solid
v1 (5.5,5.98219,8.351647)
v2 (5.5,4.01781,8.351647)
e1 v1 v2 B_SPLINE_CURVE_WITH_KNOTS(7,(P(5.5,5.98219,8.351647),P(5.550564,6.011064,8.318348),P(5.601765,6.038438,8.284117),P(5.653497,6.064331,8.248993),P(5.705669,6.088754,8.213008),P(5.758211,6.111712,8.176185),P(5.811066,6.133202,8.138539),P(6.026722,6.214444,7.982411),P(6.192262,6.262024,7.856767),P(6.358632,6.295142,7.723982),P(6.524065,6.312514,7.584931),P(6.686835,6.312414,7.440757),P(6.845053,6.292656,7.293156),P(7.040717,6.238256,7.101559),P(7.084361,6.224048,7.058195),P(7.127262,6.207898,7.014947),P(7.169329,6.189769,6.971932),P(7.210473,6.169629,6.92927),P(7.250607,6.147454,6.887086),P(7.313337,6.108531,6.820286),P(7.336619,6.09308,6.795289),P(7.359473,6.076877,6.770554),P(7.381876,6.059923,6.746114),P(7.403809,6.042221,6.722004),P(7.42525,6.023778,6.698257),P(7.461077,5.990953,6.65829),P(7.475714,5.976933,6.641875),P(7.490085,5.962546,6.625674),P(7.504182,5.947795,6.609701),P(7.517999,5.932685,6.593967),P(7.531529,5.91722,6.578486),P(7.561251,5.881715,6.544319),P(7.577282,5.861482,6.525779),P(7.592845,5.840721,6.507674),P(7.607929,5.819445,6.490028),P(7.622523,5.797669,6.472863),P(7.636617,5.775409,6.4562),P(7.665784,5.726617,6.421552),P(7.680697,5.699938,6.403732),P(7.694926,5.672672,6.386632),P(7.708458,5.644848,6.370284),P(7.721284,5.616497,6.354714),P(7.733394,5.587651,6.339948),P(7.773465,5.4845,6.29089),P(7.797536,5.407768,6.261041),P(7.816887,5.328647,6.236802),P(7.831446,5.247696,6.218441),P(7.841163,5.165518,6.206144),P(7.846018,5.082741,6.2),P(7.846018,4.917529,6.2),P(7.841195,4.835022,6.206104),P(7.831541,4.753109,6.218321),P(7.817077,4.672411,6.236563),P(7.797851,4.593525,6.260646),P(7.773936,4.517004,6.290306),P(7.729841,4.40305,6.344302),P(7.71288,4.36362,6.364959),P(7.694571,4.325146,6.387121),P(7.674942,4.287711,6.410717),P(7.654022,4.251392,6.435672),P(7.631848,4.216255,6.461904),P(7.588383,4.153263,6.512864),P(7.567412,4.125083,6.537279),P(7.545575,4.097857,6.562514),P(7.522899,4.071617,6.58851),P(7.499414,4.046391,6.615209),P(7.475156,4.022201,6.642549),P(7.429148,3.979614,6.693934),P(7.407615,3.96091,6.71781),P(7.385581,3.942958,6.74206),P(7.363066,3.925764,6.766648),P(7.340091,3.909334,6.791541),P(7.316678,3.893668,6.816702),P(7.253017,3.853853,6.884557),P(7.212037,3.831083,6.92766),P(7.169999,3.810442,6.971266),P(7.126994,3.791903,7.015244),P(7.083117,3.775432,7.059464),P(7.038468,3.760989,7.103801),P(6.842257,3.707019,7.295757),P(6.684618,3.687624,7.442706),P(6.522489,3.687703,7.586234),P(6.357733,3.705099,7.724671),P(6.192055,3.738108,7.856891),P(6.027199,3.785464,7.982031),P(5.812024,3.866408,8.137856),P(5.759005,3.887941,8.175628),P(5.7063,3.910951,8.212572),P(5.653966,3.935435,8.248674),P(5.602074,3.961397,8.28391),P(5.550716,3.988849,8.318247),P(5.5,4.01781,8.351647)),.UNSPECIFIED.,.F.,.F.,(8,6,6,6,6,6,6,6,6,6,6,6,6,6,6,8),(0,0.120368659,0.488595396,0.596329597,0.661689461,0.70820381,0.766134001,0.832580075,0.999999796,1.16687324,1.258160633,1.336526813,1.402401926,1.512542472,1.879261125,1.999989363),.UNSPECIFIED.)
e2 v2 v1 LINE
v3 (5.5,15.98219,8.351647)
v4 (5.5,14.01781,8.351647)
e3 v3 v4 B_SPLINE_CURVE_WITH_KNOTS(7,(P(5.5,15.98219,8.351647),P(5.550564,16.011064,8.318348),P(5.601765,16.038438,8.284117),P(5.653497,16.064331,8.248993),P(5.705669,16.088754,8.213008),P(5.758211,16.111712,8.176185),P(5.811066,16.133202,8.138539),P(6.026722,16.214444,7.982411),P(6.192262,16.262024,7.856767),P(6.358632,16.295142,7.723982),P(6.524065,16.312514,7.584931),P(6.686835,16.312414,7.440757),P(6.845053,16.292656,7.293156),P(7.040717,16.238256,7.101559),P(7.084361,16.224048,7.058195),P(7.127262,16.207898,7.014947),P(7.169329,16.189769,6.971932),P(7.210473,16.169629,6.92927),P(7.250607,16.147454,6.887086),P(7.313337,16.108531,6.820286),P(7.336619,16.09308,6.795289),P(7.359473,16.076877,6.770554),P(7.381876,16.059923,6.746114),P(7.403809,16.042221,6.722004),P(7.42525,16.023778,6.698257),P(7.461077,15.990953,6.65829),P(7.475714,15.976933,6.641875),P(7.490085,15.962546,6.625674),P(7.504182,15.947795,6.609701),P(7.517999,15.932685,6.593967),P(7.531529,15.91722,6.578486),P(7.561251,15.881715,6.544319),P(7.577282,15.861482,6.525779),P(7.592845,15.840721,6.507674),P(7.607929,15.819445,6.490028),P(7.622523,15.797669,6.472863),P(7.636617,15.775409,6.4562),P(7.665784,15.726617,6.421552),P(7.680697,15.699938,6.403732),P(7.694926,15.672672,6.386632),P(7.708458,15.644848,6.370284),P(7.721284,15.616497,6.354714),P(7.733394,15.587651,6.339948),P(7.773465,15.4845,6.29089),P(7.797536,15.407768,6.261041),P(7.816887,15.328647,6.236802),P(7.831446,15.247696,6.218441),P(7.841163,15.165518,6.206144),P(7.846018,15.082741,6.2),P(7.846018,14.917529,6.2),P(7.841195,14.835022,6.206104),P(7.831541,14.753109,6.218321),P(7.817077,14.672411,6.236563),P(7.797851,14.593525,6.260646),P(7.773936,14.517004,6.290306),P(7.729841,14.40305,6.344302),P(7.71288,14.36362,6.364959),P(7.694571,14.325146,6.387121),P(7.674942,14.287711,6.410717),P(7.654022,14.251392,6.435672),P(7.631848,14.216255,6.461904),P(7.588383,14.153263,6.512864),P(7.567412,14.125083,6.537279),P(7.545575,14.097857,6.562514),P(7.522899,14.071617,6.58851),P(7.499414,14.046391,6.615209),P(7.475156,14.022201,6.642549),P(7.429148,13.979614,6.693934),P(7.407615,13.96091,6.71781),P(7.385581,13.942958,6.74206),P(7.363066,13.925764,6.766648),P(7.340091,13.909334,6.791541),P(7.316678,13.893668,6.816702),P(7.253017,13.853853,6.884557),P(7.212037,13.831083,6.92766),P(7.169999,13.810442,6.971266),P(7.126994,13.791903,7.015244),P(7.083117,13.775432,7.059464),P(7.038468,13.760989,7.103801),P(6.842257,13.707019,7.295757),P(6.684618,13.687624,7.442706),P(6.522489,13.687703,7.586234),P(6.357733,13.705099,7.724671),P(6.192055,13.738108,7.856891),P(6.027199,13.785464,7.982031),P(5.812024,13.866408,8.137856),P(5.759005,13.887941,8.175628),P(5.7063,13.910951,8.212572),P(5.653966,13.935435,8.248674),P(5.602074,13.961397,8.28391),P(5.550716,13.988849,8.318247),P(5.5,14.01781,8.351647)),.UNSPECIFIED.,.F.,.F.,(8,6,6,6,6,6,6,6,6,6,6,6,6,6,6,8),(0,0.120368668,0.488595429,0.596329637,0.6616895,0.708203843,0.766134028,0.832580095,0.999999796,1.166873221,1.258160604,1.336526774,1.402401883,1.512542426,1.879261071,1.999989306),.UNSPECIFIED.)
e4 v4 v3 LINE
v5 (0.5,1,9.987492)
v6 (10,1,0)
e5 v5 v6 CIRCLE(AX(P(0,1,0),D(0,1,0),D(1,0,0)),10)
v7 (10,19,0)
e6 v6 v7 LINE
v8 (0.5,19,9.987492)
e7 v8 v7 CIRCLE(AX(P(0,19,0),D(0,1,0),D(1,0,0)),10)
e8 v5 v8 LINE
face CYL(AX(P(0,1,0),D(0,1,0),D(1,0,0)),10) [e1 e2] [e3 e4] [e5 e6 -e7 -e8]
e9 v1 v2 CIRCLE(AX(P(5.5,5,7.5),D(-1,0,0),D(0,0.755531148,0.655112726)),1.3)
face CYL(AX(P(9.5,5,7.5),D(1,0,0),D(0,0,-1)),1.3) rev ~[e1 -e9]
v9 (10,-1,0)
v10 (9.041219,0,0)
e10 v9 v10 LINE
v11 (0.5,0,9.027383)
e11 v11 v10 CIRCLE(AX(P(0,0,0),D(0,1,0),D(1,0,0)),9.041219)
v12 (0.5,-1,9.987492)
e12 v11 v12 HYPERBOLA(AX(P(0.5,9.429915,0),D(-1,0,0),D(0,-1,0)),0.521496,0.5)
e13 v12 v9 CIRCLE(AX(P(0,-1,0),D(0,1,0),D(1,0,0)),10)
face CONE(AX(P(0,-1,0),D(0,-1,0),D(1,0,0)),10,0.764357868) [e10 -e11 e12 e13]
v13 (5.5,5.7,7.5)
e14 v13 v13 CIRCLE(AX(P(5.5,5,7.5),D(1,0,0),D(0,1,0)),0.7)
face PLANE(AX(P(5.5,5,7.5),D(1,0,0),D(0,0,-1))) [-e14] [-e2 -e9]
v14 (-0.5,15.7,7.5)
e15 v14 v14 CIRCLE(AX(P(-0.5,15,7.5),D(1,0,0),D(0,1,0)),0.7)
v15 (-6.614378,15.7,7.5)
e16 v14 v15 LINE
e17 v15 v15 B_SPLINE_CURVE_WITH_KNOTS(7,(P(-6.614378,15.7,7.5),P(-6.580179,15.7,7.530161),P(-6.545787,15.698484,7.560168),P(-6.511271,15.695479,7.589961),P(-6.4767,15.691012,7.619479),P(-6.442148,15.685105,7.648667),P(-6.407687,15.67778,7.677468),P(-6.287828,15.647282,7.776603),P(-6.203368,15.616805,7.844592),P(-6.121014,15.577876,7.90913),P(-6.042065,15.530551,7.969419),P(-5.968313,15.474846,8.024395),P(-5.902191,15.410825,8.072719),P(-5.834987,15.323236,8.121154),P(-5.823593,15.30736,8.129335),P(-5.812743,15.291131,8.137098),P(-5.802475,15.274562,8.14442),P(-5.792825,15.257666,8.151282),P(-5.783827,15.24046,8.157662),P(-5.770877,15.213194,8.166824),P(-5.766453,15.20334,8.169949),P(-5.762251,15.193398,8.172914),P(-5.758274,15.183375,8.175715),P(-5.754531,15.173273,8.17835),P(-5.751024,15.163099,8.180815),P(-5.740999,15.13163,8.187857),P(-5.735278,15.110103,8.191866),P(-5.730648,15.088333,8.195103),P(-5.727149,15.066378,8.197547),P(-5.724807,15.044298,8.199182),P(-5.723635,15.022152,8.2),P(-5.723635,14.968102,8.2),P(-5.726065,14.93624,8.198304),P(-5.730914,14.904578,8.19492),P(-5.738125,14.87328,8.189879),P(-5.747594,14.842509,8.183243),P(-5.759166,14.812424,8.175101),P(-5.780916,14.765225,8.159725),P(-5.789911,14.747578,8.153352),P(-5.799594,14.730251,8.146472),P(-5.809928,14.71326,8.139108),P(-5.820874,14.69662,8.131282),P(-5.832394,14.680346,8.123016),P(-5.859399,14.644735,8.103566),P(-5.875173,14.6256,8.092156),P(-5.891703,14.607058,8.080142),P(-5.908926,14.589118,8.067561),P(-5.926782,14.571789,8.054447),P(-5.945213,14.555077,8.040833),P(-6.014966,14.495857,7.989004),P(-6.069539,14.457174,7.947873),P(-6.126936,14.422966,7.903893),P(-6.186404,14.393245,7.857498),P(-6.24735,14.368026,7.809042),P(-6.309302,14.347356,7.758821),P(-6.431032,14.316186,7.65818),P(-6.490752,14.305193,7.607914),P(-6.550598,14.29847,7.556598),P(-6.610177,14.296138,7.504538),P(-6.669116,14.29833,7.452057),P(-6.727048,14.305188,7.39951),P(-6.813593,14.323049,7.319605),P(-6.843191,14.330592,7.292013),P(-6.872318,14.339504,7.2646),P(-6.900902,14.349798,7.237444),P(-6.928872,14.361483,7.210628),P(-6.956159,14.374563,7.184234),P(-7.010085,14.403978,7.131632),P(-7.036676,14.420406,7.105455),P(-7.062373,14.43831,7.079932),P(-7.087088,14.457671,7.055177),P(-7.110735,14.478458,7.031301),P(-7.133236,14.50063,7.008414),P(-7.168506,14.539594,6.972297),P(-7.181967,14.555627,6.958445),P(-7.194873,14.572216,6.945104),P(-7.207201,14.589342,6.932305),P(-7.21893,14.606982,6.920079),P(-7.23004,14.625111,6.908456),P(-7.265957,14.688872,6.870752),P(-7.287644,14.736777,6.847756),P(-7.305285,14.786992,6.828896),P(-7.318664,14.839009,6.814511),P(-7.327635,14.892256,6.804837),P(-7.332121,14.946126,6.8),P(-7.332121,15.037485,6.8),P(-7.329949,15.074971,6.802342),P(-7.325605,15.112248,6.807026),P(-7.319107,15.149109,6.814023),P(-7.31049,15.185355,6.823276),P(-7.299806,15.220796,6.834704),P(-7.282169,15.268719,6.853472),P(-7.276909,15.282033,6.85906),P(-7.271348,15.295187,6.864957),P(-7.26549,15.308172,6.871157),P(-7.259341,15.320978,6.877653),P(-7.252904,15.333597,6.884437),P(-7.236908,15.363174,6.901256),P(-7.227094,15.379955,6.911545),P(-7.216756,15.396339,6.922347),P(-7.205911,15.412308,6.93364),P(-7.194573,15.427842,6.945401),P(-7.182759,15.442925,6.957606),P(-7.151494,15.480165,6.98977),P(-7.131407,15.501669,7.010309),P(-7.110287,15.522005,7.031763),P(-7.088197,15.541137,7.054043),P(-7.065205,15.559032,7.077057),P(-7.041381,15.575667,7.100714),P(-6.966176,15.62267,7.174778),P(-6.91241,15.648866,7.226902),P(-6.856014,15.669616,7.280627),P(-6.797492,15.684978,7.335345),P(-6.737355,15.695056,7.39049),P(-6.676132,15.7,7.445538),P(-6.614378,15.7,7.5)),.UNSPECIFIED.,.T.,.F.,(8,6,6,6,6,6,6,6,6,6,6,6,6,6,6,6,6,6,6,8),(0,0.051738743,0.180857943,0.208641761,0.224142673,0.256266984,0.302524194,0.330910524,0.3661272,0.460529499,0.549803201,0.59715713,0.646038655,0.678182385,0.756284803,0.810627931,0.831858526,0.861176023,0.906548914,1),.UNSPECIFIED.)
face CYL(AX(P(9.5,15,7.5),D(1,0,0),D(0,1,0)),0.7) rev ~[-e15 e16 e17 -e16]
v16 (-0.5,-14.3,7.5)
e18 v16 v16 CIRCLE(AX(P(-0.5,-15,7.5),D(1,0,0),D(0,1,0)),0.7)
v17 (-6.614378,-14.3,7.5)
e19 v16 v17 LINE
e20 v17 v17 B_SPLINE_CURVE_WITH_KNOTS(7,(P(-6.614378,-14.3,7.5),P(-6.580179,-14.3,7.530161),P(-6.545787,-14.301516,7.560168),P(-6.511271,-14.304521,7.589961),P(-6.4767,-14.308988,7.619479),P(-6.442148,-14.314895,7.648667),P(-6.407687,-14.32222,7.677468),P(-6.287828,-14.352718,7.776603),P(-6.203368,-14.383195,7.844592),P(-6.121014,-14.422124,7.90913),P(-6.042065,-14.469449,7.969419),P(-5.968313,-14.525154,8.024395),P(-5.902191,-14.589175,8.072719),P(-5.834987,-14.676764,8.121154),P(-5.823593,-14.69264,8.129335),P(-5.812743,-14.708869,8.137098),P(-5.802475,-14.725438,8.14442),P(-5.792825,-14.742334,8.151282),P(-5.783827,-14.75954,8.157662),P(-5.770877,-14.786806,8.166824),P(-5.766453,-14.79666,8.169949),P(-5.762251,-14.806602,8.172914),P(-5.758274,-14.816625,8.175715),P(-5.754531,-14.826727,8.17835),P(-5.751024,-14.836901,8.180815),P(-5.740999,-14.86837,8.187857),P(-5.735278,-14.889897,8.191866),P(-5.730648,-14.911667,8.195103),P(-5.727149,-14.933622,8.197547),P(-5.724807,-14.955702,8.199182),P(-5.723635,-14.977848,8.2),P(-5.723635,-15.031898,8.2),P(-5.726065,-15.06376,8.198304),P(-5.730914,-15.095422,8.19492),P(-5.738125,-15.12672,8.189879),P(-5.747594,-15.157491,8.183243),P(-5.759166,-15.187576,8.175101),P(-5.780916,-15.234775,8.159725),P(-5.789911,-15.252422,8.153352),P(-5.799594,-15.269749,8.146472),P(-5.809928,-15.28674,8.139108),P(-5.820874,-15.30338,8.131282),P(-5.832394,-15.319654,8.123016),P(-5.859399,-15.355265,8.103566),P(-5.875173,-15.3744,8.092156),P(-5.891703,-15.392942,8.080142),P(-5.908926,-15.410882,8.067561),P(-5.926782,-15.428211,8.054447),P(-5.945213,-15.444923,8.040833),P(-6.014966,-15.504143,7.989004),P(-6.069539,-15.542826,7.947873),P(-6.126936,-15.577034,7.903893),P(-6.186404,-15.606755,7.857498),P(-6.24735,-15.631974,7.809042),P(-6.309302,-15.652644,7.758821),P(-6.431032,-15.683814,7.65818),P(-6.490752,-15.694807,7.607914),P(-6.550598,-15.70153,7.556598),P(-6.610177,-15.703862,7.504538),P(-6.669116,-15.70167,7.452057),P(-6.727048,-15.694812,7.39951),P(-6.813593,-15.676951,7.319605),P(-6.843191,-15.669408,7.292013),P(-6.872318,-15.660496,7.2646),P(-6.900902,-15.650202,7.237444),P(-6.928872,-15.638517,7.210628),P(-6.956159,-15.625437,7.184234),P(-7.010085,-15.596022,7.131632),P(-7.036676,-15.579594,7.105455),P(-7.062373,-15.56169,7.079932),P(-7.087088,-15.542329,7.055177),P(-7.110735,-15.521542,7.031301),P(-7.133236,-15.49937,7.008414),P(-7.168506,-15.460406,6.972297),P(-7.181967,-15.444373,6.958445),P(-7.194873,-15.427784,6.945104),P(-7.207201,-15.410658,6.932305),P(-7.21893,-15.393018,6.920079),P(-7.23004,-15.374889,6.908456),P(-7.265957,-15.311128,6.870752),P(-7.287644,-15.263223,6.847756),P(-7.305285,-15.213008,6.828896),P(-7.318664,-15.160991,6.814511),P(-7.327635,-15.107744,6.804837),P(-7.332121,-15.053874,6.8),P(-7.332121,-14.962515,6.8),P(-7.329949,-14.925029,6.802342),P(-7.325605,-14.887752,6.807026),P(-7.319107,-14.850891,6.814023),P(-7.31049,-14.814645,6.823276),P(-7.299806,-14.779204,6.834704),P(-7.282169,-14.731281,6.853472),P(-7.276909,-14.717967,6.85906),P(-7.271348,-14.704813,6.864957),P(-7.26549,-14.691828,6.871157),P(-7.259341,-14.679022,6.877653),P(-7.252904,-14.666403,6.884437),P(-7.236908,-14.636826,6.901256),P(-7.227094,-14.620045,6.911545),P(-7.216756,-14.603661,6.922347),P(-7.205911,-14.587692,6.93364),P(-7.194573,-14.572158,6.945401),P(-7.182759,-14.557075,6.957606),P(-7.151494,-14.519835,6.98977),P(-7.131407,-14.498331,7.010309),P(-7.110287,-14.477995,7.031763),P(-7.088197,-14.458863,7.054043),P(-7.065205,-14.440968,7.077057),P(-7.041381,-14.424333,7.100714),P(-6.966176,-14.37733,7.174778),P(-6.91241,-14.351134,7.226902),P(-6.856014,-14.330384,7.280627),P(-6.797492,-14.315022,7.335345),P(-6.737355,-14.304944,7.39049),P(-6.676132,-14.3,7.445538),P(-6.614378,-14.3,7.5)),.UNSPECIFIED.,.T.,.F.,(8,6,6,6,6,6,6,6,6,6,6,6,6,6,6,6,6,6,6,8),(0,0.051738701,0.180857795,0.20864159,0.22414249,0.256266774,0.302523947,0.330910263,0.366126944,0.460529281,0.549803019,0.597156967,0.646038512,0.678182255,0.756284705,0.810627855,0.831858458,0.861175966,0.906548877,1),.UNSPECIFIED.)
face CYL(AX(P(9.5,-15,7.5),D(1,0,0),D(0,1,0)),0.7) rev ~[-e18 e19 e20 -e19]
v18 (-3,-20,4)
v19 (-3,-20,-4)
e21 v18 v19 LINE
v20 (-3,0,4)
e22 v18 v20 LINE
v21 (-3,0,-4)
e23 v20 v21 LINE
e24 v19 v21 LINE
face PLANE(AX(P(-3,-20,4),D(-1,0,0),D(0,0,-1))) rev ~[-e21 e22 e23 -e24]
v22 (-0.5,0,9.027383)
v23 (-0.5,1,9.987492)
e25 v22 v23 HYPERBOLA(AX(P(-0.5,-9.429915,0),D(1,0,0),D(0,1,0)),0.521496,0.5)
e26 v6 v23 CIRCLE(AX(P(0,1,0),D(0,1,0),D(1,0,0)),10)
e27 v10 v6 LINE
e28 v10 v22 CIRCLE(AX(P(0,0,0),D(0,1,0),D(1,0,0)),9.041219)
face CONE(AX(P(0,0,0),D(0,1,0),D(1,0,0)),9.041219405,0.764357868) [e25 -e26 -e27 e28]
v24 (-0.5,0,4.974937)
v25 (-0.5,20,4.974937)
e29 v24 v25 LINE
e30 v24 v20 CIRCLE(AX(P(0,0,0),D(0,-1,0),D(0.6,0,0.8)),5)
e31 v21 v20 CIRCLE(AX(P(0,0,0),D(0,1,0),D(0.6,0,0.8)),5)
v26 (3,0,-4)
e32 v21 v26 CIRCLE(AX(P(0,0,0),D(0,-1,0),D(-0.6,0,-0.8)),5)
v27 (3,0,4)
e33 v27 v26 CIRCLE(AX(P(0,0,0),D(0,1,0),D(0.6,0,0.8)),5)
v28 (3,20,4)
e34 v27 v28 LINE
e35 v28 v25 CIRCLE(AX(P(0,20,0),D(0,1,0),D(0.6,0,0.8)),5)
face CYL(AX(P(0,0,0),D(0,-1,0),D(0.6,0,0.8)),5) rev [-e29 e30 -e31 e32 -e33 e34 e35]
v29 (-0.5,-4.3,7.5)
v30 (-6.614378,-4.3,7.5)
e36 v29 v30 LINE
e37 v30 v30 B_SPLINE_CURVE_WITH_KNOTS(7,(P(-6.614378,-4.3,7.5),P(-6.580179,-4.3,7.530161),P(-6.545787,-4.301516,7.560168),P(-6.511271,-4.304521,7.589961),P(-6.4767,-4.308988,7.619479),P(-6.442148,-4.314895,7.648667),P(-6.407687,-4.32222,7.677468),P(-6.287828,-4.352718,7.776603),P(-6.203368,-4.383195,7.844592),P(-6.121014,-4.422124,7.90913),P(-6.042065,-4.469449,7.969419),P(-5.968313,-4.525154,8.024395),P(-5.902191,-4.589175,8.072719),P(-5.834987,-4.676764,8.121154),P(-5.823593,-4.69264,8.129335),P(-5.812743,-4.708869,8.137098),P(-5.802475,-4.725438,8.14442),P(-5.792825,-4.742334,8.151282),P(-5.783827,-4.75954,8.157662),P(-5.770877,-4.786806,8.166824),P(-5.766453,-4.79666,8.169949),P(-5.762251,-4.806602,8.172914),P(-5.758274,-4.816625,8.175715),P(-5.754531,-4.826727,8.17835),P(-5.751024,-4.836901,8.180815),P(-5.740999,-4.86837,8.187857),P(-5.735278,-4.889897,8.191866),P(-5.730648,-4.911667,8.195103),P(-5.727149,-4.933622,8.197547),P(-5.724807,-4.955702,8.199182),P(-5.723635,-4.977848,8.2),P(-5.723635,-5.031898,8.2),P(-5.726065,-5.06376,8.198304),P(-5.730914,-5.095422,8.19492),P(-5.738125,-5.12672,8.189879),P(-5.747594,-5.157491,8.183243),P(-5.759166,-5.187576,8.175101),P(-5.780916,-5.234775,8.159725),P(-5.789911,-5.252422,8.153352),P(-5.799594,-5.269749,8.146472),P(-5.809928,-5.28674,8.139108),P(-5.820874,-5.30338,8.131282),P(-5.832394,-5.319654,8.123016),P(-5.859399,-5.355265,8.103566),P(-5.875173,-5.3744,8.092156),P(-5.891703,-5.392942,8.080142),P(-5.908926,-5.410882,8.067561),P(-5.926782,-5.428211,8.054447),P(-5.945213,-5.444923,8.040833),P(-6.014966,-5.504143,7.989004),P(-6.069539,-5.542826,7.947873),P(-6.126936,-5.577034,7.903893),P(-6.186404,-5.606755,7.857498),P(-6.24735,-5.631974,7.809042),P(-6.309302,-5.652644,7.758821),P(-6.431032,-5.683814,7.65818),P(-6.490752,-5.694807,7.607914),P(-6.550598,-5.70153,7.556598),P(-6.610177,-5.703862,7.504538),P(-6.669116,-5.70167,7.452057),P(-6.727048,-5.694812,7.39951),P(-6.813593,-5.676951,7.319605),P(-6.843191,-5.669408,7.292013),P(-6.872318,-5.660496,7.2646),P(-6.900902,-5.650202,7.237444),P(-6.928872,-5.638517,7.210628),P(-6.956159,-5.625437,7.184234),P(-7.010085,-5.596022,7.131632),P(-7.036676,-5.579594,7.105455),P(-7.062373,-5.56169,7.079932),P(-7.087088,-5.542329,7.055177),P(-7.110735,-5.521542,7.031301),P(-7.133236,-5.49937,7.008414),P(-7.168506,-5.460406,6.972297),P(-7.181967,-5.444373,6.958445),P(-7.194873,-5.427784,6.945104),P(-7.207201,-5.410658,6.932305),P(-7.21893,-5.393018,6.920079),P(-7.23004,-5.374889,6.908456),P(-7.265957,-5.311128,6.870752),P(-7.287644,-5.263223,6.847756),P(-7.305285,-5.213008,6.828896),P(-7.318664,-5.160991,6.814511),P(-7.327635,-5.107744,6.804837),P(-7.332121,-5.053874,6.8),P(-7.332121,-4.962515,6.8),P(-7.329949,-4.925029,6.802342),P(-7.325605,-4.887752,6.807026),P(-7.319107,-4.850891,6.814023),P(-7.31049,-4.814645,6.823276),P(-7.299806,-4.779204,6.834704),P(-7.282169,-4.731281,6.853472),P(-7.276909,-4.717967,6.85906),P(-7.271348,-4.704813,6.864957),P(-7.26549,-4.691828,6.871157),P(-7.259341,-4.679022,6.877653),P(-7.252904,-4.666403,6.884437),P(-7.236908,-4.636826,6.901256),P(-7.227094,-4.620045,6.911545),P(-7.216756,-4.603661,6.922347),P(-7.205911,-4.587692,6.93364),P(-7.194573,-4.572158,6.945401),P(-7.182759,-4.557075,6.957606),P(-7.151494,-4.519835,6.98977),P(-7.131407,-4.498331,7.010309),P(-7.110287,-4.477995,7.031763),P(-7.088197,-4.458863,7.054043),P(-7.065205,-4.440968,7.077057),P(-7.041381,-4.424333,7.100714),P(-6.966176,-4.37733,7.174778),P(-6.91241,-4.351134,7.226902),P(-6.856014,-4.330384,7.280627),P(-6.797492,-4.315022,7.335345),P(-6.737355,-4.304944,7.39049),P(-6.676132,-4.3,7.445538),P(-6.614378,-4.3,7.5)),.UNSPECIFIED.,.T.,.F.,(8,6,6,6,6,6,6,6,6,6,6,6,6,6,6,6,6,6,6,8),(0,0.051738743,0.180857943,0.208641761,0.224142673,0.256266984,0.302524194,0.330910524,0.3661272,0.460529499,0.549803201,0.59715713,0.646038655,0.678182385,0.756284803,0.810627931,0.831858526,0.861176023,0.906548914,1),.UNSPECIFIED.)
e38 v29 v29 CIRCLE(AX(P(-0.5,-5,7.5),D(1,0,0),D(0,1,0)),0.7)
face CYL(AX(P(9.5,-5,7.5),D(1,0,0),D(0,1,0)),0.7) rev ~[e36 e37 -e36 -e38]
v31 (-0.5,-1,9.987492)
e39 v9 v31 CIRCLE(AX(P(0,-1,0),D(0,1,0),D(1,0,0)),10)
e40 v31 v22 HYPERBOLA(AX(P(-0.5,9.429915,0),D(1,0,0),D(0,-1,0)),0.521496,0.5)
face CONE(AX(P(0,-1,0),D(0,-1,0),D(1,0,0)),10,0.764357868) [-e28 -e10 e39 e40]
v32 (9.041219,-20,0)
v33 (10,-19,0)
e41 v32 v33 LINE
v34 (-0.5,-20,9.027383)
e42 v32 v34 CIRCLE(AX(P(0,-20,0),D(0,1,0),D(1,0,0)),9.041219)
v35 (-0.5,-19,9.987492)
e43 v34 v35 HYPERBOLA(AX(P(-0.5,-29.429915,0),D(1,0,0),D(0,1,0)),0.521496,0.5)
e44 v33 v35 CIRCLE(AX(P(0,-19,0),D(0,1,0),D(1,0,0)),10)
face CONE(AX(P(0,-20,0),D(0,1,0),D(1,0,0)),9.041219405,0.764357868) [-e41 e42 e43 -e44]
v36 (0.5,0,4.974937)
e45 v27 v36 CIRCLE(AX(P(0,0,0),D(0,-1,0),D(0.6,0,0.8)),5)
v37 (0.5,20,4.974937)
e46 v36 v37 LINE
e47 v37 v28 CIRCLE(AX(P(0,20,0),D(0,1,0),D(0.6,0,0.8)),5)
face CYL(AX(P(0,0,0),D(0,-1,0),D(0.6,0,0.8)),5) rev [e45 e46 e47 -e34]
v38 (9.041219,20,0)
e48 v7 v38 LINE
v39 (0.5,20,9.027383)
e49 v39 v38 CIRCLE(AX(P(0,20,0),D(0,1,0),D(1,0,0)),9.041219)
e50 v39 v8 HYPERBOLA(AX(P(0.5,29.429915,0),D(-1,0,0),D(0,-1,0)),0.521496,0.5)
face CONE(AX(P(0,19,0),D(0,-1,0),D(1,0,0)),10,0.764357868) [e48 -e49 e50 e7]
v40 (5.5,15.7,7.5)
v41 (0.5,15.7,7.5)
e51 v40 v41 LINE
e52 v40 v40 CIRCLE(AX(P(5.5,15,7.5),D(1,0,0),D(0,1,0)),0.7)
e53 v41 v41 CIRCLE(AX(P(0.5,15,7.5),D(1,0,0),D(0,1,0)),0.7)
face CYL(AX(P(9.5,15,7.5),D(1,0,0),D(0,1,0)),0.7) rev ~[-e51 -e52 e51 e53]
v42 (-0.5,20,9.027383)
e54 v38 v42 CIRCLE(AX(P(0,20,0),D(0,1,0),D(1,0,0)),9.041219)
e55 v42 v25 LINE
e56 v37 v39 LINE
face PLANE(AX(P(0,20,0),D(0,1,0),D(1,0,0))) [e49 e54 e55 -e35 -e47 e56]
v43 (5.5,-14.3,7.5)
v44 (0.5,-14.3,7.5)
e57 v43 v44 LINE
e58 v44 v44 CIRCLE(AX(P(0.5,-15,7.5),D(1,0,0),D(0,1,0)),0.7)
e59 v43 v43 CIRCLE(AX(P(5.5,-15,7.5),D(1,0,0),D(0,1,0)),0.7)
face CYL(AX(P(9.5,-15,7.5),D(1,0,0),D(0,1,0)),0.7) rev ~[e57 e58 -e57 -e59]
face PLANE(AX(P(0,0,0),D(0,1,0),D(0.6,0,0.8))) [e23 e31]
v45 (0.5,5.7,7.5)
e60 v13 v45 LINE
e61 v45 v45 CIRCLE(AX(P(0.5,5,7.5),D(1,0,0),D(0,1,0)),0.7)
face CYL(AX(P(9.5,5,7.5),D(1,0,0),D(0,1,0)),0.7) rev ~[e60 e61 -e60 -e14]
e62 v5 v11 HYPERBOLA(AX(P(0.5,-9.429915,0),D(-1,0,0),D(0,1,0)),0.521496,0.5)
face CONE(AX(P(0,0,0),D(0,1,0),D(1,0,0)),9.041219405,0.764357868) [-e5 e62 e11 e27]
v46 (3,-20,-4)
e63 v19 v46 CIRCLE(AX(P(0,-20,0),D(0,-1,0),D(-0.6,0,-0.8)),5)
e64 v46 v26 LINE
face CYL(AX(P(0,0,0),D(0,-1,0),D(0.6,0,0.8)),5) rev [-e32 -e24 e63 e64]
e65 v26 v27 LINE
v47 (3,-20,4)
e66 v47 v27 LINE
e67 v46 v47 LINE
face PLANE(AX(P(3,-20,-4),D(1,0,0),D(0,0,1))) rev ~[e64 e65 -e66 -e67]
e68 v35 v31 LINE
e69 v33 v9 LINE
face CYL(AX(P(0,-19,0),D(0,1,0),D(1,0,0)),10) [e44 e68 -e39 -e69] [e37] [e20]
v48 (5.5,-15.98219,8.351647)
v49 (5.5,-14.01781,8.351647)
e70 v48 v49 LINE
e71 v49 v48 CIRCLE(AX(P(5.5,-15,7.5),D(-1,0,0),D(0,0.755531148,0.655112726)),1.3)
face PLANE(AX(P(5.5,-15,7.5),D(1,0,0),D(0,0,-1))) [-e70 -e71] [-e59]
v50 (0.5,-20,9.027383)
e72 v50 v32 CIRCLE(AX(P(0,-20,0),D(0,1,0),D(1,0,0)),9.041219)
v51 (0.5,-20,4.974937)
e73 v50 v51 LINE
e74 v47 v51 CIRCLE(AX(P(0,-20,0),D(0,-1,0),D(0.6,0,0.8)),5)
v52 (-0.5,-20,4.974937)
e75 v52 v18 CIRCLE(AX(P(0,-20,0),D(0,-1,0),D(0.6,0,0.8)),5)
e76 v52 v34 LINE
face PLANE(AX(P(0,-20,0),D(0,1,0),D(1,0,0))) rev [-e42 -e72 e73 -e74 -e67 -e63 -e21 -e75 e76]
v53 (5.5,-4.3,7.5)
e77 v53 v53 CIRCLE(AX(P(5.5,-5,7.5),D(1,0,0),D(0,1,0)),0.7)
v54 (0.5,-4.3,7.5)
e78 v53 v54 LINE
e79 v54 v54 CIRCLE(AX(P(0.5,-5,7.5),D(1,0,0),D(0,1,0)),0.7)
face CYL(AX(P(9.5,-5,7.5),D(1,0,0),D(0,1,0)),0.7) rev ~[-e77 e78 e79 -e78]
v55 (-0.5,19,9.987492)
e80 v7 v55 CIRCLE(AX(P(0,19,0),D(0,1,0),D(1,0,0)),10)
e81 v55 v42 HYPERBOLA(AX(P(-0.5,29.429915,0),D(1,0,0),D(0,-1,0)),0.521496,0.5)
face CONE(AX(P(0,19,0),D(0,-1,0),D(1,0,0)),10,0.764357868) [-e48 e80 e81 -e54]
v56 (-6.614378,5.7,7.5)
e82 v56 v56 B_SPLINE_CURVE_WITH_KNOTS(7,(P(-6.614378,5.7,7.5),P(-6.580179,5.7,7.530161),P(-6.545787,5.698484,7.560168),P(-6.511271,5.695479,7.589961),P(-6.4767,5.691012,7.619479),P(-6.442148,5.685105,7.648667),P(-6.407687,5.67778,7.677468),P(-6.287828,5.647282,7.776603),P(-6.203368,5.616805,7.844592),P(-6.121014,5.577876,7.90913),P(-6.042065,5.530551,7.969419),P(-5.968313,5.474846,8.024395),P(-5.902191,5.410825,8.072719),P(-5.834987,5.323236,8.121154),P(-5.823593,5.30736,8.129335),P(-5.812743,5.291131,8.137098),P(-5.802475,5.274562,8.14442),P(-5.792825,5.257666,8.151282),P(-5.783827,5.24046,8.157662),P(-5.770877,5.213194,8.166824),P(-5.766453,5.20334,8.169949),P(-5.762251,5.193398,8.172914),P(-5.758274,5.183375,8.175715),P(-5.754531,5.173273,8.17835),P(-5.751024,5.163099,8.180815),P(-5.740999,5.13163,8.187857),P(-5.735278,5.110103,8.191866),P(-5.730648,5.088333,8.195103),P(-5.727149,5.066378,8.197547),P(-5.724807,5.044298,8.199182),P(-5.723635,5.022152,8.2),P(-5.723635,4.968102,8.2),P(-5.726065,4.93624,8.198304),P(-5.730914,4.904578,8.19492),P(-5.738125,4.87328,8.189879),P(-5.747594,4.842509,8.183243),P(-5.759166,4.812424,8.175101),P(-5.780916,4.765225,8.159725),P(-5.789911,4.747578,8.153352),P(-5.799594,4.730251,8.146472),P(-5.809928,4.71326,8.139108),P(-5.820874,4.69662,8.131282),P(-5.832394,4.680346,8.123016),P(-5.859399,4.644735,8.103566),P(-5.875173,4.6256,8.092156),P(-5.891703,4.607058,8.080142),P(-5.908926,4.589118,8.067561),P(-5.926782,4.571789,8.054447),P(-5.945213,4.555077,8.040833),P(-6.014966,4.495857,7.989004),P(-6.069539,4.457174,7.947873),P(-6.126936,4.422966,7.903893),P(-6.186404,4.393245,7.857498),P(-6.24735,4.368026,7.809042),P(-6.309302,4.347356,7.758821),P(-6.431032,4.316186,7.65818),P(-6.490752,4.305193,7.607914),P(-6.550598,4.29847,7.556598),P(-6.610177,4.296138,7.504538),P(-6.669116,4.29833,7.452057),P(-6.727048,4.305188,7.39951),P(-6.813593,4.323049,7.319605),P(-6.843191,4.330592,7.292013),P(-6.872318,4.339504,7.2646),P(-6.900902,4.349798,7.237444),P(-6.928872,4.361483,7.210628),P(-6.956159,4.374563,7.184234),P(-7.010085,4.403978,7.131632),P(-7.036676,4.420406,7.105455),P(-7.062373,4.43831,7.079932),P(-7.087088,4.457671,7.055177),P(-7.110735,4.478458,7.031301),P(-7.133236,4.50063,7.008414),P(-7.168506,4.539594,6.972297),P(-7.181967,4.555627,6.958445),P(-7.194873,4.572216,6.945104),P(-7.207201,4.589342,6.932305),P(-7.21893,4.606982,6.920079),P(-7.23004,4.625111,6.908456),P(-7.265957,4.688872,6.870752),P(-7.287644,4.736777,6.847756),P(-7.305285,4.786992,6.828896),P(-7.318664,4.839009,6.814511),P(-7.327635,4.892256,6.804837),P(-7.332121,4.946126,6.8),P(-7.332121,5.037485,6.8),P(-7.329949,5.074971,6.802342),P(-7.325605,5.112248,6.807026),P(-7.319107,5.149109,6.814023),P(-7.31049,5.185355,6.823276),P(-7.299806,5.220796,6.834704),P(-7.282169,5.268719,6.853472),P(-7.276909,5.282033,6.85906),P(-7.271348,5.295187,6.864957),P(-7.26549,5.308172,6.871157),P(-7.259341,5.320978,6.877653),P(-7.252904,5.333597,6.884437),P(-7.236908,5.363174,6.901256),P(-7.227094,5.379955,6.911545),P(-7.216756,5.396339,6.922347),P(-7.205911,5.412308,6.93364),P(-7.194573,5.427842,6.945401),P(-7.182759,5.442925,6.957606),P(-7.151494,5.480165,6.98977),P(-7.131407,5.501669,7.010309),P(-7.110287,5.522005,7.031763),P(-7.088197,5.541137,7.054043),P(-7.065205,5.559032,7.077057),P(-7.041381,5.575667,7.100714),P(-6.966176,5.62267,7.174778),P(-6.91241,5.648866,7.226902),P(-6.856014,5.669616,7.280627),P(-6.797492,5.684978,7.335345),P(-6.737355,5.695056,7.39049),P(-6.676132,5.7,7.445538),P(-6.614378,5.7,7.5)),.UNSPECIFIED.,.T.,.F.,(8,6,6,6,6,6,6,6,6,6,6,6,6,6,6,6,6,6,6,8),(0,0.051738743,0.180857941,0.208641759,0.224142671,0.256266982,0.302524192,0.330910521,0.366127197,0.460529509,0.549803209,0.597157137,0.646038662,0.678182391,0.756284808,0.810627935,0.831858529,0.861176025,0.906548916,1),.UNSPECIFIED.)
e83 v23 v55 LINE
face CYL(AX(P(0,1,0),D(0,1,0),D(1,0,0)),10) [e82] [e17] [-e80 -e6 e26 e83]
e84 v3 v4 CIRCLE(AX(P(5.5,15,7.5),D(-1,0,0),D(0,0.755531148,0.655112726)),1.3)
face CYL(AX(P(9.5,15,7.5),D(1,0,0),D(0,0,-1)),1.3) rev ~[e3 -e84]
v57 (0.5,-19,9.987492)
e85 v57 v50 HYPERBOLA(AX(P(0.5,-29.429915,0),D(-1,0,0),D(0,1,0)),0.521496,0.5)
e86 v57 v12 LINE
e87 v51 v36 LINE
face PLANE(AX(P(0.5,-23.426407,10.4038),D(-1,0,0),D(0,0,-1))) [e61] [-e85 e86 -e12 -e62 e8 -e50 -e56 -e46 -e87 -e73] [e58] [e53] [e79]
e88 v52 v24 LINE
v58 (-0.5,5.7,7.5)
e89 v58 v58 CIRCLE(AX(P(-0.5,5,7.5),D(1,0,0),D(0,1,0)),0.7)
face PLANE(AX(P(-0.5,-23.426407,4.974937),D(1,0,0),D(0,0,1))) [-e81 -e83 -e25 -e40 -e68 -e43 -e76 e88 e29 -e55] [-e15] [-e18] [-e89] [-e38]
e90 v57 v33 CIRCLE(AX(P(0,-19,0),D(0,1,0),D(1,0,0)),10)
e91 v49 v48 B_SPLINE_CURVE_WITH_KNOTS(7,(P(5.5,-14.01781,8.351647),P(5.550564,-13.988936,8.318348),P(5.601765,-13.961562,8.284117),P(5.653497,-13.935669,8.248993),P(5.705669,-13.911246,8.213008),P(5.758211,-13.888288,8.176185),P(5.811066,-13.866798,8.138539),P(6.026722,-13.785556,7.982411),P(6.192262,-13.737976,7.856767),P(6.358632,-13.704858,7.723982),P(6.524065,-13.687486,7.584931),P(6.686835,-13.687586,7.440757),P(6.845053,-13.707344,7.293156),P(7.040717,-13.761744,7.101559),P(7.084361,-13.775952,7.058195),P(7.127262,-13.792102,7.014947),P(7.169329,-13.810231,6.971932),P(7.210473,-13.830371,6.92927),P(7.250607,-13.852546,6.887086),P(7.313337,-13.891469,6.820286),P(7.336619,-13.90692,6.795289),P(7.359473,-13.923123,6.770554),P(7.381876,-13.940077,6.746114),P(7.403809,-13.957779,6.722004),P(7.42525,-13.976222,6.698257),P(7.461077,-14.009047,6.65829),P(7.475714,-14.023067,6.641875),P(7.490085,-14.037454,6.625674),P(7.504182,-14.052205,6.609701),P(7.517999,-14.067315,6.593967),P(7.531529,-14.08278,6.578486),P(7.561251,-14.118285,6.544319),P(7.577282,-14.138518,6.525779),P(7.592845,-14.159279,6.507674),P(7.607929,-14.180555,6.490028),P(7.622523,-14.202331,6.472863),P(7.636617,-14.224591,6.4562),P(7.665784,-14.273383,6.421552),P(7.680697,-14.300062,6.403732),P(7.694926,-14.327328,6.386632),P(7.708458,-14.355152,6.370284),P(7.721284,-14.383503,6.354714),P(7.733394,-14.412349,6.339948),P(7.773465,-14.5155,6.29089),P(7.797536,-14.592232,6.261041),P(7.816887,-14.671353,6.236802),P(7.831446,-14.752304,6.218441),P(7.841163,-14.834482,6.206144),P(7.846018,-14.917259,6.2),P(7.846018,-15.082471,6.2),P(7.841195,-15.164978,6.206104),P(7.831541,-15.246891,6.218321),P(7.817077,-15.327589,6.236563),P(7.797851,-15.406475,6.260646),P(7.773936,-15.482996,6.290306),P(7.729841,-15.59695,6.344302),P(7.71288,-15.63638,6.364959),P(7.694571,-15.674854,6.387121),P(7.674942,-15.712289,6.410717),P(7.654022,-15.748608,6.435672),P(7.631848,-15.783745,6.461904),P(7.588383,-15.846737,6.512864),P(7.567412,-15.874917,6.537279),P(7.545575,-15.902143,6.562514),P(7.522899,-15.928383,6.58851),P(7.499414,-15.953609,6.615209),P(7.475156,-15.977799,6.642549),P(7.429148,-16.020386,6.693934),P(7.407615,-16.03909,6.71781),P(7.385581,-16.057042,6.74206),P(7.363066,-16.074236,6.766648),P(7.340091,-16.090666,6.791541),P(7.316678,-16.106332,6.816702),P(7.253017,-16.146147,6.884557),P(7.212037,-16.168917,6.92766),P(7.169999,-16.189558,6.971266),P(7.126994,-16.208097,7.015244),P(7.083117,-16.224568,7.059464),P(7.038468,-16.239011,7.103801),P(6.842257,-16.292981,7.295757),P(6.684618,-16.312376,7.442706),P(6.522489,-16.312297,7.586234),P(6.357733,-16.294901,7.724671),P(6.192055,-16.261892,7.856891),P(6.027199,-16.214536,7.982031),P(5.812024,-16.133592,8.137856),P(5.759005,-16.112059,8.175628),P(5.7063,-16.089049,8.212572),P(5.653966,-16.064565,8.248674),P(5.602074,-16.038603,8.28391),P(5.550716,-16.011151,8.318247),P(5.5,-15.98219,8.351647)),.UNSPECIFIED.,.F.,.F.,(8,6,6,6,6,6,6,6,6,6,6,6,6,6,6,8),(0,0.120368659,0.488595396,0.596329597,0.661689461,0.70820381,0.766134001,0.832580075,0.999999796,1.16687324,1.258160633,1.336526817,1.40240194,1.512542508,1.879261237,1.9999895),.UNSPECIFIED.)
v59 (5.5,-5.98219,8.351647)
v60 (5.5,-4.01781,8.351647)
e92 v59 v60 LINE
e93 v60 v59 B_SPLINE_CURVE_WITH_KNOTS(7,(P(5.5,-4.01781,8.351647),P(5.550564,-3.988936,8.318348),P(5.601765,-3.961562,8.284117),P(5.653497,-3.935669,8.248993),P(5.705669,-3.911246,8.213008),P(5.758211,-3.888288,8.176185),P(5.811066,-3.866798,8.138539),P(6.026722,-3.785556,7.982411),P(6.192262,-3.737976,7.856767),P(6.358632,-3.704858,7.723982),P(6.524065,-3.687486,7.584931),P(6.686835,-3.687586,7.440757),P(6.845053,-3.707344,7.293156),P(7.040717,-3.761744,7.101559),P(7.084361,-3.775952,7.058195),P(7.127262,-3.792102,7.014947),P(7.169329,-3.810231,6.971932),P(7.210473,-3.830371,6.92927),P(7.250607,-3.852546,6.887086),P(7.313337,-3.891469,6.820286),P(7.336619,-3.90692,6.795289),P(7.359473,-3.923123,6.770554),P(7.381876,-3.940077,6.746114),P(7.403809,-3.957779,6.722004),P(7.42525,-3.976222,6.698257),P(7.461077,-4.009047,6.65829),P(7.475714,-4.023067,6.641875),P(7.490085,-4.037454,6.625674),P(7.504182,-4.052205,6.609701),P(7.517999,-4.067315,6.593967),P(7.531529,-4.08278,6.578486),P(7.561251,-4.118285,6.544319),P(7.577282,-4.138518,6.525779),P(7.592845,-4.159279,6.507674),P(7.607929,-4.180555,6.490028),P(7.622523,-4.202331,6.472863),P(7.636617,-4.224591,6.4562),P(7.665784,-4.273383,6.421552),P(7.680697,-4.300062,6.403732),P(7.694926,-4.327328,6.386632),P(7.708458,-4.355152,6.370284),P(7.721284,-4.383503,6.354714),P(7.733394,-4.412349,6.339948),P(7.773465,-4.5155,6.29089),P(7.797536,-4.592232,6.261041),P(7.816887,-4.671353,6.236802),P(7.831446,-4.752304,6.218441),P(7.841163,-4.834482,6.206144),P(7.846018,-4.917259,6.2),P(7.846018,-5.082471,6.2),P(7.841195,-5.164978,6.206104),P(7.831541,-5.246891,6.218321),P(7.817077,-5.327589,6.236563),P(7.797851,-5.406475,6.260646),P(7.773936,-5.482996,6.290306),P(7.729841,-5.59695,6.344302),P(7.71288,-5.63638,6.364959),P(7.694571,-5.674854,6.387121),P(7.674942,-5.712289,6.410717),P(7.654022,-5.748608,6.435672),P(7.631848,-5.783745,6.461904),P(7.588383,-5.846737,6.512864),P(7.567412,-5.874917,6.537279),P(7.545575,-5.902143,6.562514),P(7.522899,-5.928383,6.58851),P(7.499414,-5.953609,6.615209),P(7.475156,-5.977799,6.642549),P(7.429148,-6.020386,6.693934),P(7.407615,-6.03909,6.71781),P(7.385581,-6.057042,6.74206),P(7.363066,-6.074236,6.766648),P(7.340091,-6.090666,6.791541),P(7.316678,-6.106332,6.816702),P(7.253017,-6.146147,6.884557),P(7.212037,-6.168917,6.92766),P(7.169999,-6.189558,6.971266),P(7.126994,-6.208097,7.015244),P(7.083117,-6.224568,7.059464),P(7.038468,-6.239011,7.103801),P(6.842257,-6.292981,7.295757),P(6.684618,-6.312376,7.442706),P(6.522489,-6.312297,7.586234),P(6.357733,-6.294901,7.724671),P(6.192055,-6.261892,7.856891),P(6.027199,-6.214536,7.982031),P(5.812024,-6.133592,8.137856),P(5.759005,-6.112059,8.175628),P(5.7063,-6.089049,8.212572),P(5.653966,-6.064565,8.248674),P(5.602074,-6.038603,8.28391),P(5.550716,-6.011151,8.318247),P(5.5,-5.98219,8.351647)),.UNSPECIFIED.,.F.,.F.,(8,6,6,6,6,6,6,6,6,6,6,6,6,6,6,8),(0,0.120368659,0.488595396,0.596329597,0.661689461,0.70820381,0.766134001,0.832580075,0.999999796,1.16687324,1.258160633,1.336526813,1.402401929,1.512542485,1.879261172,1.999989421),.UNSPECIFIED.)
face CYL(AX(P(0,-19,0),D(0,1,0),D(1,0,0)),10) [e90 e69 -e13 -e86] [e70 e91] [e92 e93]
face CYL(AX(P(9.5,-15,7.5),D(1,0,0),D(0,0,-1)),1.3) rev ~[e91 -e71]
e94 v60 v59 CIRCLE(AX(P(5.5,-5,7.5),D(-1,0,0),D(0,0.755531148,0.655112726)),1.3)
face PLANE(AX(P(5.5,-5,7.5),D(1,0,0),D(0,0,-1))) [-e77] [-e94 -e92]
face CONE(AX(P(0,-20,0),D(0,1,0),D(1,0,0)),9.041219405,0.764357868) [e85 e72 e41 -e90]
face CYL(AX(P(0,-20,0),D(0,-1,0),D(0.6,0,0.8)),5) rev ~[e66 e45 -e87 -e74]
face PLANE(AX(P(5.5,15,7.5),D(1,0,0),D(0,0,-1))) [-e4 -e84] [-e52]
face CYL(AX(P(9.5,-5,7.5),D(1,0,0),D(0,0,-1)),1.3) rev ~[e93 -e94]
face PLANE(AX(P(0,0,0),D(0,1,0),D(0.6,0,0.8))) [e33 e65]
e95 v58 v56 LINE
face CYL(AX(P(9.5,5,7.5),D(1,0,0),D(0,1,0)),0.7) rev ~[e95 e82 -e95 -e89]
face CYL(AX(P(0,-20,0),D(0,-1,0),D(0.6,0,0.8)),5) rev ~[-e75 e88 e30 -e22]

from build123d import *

# Parameters (mm, degrees)
CUT_EXTRUDE2_DEPTH      = 20
CUT_EXTRUDE3_START      = -20
SKETCH8_R               = 5
CUT_EXTRUDE3_DEPTH      = 20
CUT_EXTRUDE4_DEPTH      = 43.426406871
CUT_EXTRUDE4_DEPTH_BACK = 43.426406871
SKETCH11_R              = 0.7
CUT_EXTRUDE5_DEPTH      = 30.669007398
SKETCH13_R              = 1.3
CUT_EXTRUDE6_DEPTH      = 4


with BuildPart() as part:
    # Sketch5 → Revolve2 (revolve)
    with BuildSketch(Plane.XY, mode=Mode.PRIVATE) as revolve2_sk:
        Polygon((-9.041219405, 20), (0, 20), (0, -20), (-9.041219405, -20), (-10, -19), (-10, -1), (-9.041219405, 0), (-10, 1), (-10, 19), align=None)
    revolve(revolve2_sk.sketch.rotate(Axis((0, -53.191489362, 0), (0, 1, 0)), 180), axis=Axis((0, -53.191489362, 0), (0, 1, 0)))

    # Sketch6 → Cut-Extrude2 (cut)
    with BuildSketch(Plane(origin=(0, -20, 0), x_dir=(-1, 0, 0), z_dir=(0, -1, 0))):
        with BuildLine():
            Line((-3, 4), (-3, -4))
            ThreePointArc((-3, -4), (0, -5), (3, -4))
            Line((3, -4), (3, 4))
            ThreePointArc((3, 4), (0, 5), (-3, 4))
        make_face()
    extrude(amount=-CUT_EXTRUDE2_DEPTH, mode=Mode.SUBTRACT)

    # Sketch8 → Cut-Extrude3 (cut)
    with BuildSketch(Plane(origin=(0, 20, 0), x_dir=(1, 0, 0), z_dir=(0, 1, 0)).offset(CUT_EXTRUDE3_START)):
        with Locations(Location((0, 0, 0), (0, 0, 306.869897646))):
            Circle(SKETCH8_R)
    extrude(amount=CUT_EXTRUDE3_DEPTH, mode=Mode.SUBTRACT)

    # Sketch9 → Cut-Extrude4 (cut, two sides: drawn at the far end of the back side and taken through both)
    with BuildSketch(Plane(origin=(0, 20, 0), x_dir=(1, 0, 0), z_dir=(0, 1, 0)).offset(-CUT_EXTRUDE4_DEPTH_BACK)):
        with BuildLine():
            Line((-0.5, -4.974937186), (-0.5, -10.403800493))
            ThreePointArc((-0.5, -10.403800493), (0, -10.415808404), (0.5, -10.403800493))
            Line((0.5, -10.403800493), (0.5, -4.974937186))
            ThreePointArc((0.5, -4.974937186), (0, -5), (-0.5, -4.974937186))
        make_face()
    extrude(amount=CUT_EXTRUDE4_DEPTH + CUT_EXTRUDE4_DEPTH_BACK, mode=Mode.SUBTRACT)

    # Sketch11 → Cut-Extrude5 (cut, through all)
    with BuildSketch(Plane(origin=(9.5, 0, 0), x_dir=(0, 0, -1), z_dir=(1, 0, 0))):
        with Locations(Location((-7.5, 15, 0), (0, 0, 90))):
            Circle(SKETCH11_R)
        with Locations(Location((-7.5, 5, 0), (0, 0, 90))):
            Circle(SKETCH11_R)
        with Locations(Location((-7.5, -5, 0), (0, 0, 90))):
            Circle(SKETCH11_R)
        with Locations(Location((-7.5, -15, 0), (0, 0, 90))):
            Circle(SKETCH11_R)
    extrude(amount=-CUT_EXTRUDE5_DEPTH, mode=Mode.SUBTRACT)

    # Sketch13 → Cut-Extrude6 (cut)
    with BuildSketch(Plane(origin=(9.5, 0, 0), x_dir=(0, 0, -1), z_dir=(1, 0, 0))):
        with Locations((-7.5, 15)):
            Circle(SKETCH13_R)
        with Locations((-7.5, 5)):
            Circle(SKETCH13_R)
        with Locations((-7.5, -5)):
            Circle(SKETCH13_R)
        with Locations((-7.5, -15)):
            Circle(SKETCH13_R)
    extrude(amount=-CUT_EXTRUDE6_DEPTH, mode=Mode.SUBTRACT)


solid = part.part
